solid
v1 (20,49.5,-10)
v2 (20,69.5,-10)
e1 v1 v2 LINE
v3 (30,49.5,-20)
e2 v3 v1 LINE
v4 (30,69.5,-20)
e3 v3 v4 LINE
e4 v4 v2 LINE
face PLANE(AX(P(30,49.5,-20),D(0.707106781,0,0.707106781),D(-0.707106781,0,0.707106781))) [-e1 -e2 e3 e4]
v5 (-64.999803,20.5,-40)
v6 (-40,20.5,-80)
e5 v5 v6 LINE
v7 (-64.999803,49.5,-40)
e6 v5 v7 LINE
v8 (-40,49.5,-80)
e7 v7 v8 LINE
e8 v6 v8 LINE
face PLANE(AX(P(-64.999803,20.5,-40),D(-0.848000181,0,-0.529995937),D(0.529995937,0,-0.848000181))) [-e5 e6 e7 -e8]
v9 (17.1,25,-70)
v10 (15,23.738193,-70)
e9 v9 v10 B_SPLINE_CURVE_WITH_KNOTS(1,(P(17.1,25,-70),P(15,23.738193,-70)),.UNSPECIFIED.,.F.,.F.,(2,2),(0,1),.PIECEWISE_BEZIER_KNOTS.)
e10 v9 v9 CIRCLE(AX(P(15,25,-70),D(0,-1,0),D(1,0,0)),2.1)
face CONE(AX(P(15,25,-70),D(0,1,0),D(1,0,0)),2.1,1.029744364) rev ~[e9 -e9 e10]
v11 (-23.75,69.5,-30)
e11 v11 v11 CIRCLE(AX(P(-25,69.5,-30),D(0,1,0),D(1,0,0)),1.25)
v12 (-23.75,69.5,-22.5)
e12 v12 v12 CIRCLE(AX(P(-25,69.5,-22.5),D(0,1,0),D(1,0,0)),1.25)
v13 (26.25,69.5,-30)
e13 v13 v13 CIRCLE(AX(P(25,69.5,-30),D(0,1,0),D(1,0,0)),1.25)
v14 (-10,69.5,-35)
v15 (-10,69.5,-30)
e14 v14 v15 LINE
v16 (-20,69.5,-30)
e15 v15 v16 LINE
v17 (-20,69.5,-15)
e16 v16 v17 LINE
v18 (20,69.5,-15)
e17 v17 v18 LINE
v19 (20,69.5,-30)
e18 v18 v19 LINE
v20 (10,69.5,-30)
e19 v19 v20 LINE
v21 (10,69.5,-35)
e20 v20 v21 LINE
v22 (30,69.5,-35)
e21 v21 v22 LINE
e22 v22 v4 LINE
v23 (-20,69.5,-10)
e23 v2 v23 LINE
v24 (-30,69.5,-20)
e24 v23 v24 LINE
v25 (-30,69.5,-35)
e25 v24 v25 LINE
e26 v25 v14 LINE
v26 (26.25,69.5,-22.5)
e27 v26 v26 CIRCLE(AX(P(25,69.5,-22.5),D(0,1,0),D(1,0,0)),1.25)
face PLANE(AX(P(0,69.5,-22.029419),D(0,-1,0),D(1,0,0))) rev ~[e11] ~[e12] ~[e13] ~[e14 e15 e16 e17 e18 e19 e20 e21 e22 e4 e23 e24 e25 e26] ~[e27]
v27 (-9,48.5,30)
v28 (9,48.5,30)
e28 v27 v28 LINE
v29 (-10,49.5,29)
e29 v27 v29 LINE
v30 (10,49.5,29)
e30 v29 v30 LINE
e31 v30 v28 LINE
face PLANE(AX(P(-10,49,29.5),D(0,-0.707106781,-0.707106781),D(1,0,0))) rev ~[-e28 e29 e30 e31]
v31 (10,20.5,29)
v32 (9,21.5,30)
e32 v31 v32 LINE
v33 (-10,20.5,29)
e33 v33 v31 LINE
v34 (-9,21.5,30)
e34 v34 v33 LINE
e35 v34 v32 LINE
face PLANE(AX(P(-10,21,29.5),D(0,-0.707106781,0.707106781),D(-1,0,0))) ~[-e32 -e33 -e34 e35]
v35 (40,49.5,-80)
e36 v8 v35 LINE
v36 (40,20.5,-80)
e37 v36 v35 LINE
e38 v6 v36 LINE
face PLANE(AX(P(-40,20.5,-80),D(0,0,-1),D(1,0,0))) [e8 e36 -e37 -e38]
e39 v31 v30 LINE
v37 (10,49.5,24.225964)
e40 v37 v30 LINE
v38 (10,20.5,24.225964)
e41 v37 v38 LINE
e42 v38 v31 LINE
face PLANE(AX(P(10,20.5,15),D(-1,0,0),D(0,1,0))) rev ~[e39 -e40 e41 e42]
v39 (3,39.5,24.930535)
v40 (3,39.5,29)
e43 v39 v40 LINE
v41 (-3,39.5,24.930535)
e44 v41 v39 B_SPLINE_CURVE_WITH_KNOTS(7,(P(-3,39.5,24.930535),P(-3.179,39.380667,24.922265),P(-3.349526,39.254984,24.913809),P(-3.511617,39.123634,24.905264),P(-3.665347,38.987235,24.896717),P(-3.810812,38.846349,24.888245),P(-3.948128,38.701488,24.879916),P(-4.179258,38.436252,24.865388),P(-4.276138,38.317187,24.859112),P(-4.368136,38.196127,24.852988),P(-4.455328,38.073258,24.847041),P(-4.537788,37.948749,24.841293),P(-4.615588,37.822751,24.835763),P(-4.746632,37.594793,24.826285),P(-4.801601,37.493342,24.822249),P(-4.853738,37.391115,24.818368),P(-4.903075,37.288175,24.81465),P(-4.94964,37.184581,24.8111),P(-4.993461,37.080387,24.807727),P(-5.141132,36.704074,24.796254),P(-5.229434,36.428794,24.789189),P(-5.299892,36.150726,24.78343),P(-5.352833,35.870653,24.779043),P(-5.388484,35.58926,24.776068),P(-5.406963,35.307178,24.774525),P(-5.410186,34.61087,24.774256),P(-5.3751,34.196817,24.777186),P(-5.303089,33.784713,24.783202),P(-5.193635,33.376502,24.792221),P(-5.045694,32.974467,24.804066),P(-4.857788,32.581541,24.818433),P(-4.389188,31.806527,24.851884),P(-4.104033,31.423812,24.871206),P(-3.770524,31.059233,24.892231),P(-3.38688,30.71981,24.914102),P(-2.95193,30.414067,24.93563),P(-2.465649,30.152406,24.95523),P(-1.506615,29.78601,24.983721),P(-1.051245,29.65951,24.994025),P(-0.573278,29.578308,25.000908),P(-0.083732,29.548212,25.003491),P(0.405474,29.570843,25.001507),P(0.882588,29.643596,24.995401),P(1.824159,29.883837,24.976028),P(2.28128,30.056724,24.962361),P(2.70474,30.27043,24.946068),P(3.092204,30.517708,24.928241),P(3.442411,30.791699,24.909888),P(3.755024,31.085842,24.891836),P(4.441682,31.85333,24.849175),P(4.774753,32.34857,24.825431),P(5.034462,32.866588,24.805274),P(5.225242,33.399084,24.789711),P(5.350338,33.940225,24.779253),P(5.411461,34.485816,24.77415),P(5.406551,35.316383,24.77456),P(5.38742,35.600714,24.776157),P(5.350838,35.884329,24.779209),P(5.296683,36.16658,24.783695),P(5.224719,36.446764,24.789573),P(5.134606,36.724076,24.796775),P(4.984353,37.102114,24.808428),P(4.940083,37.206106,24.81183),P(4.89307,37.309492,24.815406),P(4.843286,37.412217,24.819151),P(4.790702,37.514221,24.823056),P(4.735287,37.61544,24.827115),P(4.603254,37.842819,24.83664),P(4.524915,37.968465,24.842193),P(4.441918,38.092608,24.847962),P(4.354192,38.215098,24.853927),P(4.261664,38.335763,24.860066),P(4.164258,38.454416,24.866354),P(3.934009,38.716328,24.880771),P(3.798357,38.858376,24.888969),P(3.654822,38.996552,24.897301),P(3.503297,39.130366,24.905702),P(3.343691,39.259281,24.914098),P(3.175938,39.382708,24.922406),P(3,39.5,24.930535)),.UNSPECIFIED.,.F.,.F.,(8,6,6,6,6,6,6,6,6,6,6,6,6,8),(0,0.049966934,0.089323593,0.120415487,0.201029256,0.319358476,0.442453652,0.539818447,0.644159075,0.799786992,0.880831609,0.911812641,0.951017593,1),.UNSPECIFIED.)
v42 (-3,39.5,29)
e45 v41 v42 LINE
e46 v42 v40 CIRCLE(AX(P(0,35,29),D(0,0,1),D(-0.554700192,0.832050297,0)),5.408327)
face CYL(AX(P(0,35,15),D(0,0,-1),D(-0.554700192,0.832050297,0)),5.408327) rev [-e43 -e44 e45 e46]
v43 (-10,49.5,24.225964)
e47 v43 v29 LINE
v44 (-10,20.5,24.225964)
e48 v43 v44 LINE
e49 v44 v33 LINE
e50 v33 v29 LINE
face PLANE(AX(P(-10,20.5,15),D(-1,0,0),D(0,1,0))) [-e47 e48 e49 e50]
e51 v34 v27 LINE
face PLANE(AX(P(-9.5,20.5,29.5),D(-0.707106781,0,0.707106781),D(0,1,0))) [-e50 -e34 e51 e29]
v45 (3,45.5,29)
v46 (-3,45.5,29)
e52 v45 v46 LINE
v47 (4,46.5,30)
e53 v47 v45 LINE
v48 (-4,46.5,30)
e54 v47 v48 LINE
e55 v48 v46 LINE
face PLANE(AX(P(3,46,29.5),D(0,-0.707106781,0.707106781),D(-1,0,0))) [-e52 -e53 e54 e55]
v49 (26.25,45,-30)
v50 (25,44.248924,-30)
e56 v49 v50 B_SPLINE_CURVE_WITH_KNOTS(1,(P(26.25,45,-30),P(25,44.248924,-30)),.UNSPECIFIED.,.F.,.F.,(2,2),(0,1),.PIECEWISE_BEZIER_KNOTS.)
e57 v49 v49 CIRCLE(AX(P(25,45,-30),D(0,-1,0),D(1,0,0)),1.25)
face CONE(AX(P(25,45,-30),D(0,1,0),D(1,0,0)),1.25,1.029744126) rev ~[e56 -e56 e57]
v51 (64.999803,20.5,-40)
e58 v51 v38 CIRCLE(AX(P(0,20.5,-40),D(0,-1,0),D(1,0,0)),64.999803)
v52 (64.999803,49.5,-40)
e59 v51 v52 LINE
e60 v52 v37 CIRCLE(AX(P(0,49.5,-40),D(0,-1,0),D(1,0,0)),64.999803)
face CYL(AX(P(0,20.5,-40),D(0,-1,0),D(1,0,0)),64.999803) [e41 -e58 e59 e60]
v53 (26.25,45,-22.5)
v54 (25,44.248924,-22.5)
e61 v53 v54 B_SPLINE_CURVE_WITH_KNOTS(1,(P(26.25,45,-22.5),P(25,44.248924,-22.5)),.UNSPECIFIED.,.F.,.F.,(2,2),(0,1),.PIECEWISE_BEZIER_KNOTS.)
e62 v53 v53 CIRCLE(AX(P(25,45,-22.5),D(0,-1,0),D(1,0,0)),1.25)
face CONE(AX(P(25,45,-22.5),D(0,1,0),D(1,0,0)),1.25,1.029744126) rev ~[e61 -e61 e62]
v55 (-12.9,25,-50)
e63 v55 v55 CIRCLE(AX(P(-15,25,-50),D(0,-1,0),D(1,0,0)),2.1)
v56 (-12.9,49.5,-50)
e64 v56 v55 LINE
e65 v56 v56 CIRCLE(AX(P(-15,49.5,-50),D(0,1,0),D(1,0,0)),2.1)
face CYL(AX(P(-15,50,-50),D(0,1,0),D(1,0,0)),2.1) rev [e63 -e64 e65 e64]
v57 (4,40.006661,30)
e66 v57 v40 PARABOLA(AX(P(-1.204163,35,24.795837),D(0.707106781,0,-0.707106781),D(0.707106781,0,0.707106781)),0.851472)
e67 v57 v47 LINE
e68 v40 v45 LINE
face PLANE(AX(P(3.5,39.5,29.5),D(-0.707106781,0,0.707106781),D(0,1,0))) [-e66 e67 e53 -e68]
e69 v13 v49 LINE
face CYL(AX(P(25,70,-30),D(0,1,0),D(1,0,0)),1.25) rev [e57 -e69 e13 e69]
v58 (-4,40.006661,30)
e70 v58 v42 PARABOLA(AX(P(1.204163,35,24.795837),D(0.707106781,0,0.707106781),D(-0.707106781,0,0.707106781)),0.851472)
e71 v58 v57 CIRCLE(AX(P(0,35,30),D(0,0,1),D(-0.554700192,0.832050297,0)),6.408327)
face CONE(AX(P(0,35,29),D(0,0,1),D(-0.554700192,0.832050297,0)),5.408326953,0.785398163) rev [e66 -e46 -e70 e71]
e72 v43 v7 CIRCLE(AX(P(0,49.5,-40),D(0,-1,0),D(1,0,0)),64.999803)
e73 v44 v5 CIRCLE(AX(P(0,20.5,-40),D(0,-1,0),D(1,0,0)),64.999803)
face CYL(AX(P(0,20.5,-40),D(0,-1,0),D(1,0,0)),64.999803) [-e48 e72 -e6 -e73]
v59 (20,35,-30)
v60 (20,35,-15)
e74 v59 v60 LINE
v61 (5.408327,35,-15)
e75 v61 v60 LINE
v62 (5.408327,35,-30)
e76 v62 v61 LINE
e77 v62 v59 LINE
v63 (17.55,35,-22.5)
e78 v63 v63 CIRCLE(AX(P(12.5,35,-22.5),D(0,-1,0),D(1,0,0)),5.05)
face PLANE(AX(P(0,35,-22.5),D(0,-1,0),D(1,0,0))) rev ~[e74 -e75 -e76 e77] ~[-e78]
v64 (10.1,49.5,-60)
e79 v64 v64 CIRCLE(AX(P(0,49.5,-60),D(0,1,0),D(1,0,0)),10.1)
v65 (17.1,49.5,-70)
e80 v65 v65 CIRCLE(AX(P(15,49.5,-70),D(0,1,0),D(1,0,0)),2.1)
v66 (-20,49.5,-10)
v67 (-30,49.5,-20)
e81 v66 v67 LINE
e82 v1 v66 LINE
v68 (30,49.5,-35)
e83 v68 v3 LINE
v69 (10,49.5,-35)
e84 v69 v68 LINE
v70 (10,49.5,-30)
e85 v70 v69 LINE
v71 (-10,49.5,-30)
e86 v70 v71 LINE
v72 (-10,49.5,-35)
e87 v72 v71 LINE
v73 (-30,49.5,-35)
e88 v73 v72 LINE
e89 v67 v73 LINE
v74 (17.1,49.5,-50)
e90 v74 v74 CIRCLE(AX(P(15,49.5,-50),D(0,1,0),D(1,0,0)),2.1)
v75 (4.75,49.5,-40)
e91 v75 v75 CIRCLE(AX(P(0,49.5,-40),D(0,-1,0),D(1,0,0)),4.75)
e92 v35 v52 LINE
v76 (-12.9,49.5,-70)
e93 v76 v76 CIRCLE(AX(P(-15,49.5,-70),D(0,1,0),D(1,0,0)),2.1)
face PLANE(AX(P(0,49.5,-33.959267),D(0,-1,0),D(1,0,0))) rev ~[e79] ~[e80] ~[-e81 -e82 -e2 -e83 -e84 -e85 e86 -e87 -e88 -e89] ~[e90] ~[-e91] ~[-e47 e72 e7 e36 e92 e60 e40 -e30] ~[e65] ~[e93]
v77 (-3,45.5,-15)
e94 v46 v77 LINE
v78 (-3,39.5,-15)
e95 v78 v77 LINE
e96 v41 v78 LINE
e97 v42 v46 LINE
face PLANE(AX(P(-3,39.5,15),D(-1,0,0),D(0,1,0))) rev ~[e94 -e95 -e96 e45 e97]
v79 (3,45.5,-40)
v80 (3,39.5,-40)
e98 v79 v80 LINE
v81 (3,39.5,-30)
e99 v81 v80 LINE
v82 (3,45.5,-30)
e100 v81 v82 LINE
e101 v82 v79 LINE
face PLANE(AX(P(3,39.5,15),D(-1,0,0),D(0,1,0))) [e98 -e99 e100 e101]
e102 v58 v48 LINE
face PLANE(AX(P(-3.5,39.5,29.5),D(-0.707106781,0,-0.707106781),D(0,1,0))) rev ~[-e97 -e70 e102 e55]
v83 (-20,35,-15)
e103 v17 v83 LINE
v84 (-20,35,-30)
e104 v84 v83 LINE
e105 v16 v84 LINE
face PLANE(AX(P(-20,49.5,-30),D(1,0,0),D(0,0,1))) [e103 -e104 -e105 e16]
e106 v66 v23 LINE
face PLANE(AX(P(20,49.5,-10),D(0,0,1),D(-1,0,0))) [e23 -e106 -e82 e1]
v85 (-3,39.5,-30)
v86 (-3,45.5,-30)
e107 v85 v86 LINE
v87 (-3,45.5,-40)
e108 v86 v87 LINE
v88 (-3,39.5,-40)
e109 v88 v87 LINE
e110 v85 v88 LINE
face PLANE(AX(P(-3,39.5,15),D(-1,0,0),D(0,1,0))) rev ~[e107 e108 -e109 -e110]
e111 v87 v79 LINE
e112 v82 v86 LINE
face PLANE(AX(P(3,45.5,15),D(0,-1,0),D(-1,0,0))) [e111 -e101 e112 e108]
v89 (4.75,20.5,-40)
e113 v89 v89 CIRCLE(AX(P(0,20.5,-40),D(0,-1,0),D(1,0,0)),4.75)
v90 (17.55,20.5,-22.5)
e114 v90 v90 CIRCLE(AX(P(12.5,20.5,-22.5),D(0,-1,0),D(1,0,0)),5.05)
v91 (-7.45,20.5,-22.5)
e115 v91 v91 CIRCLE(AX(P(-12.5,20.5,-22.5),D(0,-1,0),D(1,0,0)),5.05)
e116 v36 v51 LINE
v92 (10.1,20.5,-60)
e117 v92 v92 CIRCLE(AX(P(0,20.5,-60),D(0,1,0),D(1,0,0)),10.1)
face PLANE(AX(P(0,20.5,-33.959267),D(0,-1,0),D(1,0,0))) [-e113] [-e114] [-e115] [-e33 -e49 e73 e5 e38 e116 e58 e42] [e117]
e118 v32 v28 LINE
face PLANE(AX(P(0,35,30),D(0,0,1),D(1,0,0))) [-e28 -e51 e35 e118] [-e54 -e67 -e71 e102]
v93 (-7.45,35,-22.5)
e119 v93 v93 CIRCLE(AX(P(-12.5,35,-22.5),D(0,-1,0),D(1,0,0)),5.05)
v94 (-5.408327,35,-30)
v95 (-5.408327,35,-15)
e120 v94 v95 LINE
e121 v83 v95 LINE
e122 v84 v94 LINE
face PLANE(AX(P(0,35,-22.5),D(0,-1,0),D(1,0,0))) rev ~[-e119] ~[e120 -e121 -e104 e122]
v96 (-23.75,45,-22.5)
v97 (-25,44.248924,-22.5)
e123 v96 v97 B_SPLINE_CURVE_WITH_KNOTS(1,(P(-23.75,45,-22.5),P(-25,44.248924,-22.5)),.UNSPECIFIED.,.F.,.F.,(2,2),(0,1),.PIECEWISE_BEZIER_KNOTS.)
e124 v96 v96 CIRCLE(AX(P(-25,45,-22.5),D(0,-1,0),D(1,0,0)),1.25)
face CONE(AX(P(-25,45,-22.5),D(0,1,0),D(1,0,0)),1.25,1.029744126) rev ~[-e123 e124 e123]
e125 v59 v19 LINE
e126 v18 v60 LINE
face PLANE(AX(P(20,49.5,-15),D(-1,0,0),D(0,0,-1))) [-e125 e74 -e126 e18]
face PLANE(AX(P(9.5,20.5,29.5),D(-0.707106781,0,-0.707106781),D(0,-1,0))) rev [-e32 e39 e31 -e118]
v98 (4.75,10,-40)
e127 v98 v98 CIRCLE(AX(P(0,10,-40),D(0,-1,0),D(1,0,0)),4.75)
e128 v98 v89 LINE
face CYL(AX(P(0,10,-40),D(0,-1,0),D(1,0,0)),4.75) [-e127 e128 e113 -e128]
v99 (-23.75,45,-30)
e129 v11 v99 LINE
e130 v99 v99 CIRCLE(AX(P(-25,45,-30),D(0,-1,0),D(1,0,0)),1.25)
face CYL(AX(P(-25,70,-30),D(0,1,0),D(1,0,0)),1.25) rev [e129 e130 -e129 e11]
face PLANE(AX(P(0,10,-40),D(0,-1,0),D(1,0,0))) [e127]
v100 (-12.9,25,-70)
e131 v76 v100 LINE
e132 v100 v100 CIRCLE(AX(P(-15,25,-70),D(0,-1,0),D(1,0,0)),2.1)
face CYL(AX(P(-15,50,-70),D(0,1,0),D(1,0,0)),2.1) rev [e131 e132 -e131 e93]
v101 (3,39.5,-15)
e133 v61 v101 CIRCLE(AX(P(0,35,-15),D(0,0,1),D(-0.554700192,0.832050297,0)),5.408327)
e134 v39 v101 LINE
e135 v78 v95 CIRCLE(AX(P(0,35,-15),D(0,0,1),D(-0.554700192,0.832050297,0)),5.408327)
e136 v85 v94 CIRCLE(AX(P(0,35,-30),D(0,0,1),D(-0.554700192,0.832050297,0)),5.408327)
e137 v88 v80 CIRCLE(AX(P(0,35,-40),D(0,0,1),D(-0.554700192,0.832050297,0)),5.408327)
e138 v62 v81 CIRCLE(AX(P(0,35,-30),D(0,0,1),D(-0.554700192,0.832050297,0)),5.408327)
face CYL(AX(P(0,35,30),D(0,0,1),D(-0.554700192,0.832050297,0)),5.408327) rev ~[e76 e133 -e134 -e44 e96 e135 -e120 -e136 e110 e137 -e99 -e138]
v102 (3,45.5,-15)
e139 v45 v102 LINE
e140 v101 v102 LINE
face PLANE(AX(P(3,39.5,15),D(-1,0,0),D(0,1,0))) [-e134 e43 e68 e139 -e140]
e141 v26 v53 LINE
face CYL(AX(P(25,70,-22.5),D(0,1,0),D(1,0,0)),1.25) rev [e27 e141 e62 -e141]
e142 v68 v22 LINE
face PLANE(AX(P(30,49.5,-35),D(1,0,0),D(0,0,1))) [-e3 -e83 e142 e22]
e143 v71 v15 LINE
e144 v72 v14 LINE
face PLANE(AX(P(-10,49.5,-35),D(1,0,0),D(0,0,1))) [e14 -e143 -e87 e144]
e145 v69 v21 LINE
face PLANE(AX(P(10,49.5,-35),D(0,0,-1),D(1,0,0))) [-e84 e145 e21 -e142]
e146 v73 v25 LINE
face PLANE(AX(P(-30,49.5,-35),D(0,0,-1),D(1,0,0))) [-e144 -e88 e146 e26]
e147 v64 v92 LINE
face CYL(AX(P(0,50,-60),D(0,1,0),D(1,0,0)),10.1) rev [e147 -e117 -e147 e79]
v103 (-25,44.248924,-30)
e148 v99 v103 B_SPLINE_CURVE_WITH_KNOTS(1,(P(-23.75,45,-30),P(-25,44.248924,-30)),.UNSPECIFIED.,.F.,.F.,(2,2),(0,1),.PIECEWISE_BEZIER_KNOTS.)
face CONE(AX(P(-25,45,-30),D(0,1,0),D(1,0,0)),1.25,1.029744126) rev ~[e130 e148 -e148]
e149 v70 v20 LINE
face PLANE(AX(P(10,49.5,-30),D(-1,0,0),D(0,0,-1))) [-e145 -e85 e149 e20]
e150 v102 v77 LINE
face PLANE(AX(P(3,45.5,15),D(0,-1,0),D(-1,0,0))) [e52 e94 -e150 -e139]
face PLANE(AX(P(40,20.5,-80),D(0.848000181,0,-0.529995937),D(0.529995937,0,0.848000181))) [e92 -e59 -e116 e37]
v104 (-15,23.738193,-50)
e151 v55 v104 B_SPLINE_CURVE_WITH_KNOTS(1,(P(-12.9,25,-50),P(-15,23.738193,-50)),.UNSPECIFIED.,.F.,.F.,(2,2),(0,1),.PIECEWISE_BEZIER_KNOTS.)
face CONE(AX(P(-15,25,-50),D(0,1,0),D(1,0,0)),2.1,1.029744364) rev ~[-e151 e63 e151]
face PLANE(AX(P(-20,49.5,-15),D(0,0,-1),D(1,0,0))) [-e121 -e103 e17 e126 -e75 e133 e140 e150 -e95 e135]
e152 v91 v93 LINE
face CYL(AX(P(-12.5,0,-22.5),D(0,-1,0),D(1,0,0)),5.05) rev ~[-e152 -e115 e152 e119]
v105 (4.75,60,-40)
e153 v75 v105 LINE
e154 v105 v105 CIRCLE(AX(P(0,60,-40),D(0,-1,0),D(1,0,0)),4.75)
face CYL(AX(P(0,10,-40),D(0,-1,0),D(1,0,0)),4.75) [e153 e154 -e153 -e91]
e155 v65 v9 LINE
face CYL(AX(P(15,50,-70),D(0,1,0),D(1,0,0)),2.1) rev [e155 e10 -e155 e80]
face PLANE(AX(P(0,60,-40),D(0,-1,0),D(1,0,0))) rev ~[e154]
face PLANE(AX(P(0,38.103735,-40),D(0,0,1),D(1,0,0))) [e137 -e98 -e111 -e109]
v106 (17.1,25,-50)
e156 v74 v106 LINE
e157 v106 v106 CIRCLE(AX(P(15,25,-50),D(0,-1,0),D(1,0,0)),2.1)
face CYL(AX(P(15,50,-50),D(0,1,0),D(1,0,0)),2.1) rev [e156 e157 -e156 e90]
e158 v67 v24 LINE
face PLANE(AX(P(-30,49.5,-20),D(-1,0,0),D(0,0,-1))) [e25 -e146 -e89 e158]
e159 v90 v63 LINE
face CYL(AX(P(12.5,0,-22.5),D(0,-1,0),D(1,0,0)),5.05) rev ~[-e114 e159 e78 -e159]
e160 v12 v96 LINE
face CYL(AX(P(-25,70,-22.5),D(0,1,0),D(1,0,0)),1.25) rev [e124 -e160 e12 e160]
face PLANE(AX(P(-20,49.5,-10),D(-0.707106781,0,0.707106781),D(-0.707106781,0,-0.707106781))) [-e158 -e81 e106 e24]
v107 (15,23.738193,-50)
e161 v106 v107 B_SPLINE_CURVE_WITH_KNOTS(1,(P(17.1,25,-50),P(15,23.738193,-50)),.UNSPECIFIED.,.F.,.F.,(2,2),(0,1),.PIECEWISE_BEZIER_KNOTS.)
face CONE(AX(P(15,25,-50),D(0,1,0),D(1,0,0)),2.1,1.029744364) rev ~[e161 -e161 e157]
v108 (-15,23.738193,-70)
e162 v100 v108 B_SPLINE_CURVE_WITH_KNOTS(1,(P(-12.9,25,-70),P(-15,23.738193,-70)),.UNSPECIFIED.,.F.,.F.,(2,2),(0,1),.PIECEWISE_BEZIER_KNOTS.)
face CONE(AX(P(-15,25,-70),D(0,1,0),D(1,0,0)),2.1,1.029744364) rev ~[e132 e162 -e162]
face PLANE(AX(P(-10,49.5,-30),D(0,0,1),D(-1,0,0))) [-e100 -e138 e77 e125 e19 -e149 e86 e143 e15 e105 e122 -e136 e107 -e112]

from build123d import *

# Parameters (mm, degrees)
SKETCH008_W     = 20
SKETCH008_H     = 29
PAD008_DEPTH    = 15
PAD009_DEPTH    = 29
SKETCH017_R     = 4.75
PAD015_DEPTH    = 50
POCKET001_DEPTH = 70
SKETCH018_W     = 40
SKETCH018_H     = 15
POCKET002_DEPTH = 15
SKETCH019_R     = 5.05
POCKET003_DEPTH = 117
PAD016_DEPTH    = 20
SKETCH023_R     = 1.25
HOLE_DEPTH      = 25
HOLE_TIPS_R     = 1.25
SKETCH031_R     = 10.1
POCKET007_DEPTH = 30
SKETCH032_R     = 2.1
HOLE003_DEPTH   = 25
HOLE003_TIPS_R  = 2.1
CHAMFER001_SIZE = 1


with BuildPart() as part:
    # Sketch008 → Pad008 (new body)
    with BuildSketch(Plane.XY.offset(15)):
        with Locations((0, 35)):
            Rectangle(SKETCH008_W, SKETCH008_H)
        with BuildLine():
            ThreePointArc((-3, 39.5), (0, 29.591673), (3, 39.5))
            Line((3, 39.5), (3, 45.5))
            Line((3, 45.5), (-3, 45.5))
            Line((-3, 39.5), (-3, 45.5))
        make_face(mode=Mode.SUBTRACT)
    extrude(amount=PAD008_DEPTH)

    # Sketch009 → Pad009 (join)
    with BuildSketch(Plane.XZ.offset(-20.5)):
        with BuildLine():
            ThreePointArc((64.999803, -40), (0, 24.999803), (-64.999803, -40))
            Line((-64.999803, -40), (-40, -80))
            Line((-40, -80), (40, -80))
            Line((40, -80), (64.999803, -40))
        make_face()
    extrude(amount=-PAD009_DEPTH)

    # Sketch017 → Pad015 (join)
    with BuildSketch(Plane.XZ.offset(-10)):
        with Locations((0, -40)):
            Circle(SKETCH017_R)
    extrude(amount=-PAD015_DEPTH)

    # Sketch016 → Pocket001 (cut)
    with BuildSketch(Plane.XY.offset(30)):
        with BuildLine():
            ThreePointArc((-3, 39.5), (0, 29.591673), (3, 39.5))
            Line((3, 45.5), (3, 39.5))
            Line((-3, 45.5), (3, 45.5))
            Line((-3, 39.5), (-3, 45.5))
        make_face()
    extrude(amount=-POCKET001_DEPTH, mode=Mode.SUBTRACT)

    # Sketch018 → Pocket002 (cut)
    with BuildSketch(Plane.XZ.offset(-50)):
        with Locations((0, -22.5)):
            Rectangle(SKETCH018_W, SKETCH018_H)
    extrude(amount=POCKET002_DEPTH, mode=Mode.SUBTRACT)

    # Sketch019 → Pocket003 (cut)
    with BuildSketch(Plane.XZ):
        with Locations((-12.5, -22.5)):
            Circle(SKETCH019_R)
        with Locations((12.5, -22.5)):
            Circle(SKETCH019_R)
    extrude(amount=-POCKET003_DEPTH, mode=Mode.SUBTRACT)

    # Sketch022 → Pad016 (join)
    with BuildSketch(Plane.XZ.offset(-49.5)):
        Polygon((-10, -35), (-10, -30), (-20, -30), (-20, -15), (20, -15), (20, -30), (10, -30), (10, -35), (30, -35), (30, -20), (20, -10), (-20, -10), (-30, -20), (-30, -35), align=None)
    extrude(amount=-PAD016_DEPTH)

    # Sketch023 → Hole (cut)
    with BuildSketch(Plane.XZ.offset(-70)):
        with Locations((-25, -30)):
            Circle(SKETCH023_R)
        with Locations((25, -30)):
            Circle(SKETCH023_R)
        with Locations((-25, -22.5)):
            Circle(SKETCH023_R)
        with Locations((25, -22.5)):
            Circle(SKETCH023_R)
    extrude(amount=HOLE_DEPTH, mode=Mode.SUBTRACT)

    # Hole tips → Hole tip 1 section 0
    with BuildSketch(Plane.XZ.offset(-45), mode=Mode.PRIVATE) as hole_tip_1_s0:
        with Locations((-25, -30)):
            Circle(HOLE_TIPS_R)
    loft([hole_tip_1_s0.sketch, Vertex(-25, 44.248924, -30)], mode=Mode.SUBTRACT)

    # Hole tips → Hole tip 2 section 0
    with BuildSketch(Plane.XZ.offset(-45), mode=Mode.PRIVATE) as hole_tip_2_s0:
        with Locations((25, -30)):
            Circle(HOLE_TIPS_R)
    loft([hole_tip_2_s0.sketch, Vertex(25, 44.248924, -30)], mode=Mode.SUBTRACT)

    # Hole tips → Hole tip 3 section 0
    with BuildSketch(Plane.XZ.offset(-45), mode=Mode.PRIVATE) as hole_tip_3_s0:
        with Locations((-25, -22.5)):
            Circle(HOLE_TIPS_R)
    loft([hole_tip_3_s0.sketch, Vertex(-25, 44.248924, -22.5)], mode=Mode.SUBTRACT)

    # Hole tips → Hole tip 4 section 0
    with BuildSketch(Plane.XZ.offset(-45), mode=Mode.PRIVATE) as hole_tip_4_s0:
        with Locations((25, -22.5)):
            Circle(HOLE_TIPS_R)
    loft([hole_tip_4_s0.sketch, Vertex(25, 44.248924, -22.5)], mode=Mode.SUBTRACT)

    # Sketch031 → Pocket007 (cut)
    with BuildSketch(Plane.XZ.offset(-50)):
        with Locations((0, -60)):
            Circle(SKETCH031_R)
    extrude(amount=POCKET007_DEPTH, mode=Mode.SUBTRACT)

    # Sketch032 → Hole003 (cut)
    with BuildSketch(Plane.XZ.offset(-50)):
        with Locations((-15, -50)):
            Circle(SKETCH032_R)
        with Locations((-15, -70)):
            Circle(SKETCH032_R)
        with Locations((15, -70)):
            Circle(SKETCH032_R)
        with Locations((15, -50)):
            Circle(SKETCH032_R)
    extrude(amount=HOLE003_DEPTH, mode=Mode.SUBTRACT)

    # Hole003 tips → Hole003 tip 1 section 0
    with BuildSketch(Plane.XZ.offset(-25), mode=Mode.PRIVATE) as hole003_tip_1_s0:
        with Locations((-15, -50)):
            Circle(HOLE003_TIPS_R)
    loft([hole003_tip_1_s0.sketch, Vertex(-15, 23.738193, -50)], mode=Mode.SUBTRACT)

    # Hole003 tips → Hole003 tip 2 section 0
    with BuildSketch(Plane.XZ.offset(-25), mode=Mode.PRIVATE) as hole003_tip_2_s0:
        with Locations((-15, -70)):
            Circle(HOLE003_TIPS_R)
    loft([hole003_tip_2_s0.sketch, Vertex(-15, 23.738193, -70)], mode=Mode.SUBTRACT)

    # Hole003 tips → Hole003 tip 3 section 0
    with BuildSketch(Plane.XZ.offset(-25), mode=Mode.PRIVATE) as hole003_tip_3_s0:
        with Locations((15, -70)):
            Circle(HOLE003_TIPS_R)
    loft([hole003_tip_3_s0.sketch, Vertex(15, 23.738193, -70)], mode=Mode.SUBTRACT)

    # Hole003 tips → Hole003 tip 4 section 0
    with BuildSketch(Plane.XZ.offset(-25), mode=Mode.PRIVATE) as hole003_tip_4_s0:
        with Locations((15, -50)):
            Circle(HOLE003_TIPS_R)
    loft([hole003_tip_4_s0.sketch, Vertex(15, 23.738193, -50)], mode=Mode.SUBTRACT)

    # Chamfer001
    chamfer001_edges = [part.edges().sort_by_distance(p)[0] for p in [
        (3, 42.5, 30),
        (0, 45.5, 30),
        (-3, 42.5, 30),
        (0, 29.591673, 30),
        (-10, 35, 30),
        (0, 49.5, 30),
        (10, 35, 30),
        (0, 20.5, 30),
    ]]
    chamfer(chamfer001_edges, length=CHAMFER001_SIZE)


solid = part.part
